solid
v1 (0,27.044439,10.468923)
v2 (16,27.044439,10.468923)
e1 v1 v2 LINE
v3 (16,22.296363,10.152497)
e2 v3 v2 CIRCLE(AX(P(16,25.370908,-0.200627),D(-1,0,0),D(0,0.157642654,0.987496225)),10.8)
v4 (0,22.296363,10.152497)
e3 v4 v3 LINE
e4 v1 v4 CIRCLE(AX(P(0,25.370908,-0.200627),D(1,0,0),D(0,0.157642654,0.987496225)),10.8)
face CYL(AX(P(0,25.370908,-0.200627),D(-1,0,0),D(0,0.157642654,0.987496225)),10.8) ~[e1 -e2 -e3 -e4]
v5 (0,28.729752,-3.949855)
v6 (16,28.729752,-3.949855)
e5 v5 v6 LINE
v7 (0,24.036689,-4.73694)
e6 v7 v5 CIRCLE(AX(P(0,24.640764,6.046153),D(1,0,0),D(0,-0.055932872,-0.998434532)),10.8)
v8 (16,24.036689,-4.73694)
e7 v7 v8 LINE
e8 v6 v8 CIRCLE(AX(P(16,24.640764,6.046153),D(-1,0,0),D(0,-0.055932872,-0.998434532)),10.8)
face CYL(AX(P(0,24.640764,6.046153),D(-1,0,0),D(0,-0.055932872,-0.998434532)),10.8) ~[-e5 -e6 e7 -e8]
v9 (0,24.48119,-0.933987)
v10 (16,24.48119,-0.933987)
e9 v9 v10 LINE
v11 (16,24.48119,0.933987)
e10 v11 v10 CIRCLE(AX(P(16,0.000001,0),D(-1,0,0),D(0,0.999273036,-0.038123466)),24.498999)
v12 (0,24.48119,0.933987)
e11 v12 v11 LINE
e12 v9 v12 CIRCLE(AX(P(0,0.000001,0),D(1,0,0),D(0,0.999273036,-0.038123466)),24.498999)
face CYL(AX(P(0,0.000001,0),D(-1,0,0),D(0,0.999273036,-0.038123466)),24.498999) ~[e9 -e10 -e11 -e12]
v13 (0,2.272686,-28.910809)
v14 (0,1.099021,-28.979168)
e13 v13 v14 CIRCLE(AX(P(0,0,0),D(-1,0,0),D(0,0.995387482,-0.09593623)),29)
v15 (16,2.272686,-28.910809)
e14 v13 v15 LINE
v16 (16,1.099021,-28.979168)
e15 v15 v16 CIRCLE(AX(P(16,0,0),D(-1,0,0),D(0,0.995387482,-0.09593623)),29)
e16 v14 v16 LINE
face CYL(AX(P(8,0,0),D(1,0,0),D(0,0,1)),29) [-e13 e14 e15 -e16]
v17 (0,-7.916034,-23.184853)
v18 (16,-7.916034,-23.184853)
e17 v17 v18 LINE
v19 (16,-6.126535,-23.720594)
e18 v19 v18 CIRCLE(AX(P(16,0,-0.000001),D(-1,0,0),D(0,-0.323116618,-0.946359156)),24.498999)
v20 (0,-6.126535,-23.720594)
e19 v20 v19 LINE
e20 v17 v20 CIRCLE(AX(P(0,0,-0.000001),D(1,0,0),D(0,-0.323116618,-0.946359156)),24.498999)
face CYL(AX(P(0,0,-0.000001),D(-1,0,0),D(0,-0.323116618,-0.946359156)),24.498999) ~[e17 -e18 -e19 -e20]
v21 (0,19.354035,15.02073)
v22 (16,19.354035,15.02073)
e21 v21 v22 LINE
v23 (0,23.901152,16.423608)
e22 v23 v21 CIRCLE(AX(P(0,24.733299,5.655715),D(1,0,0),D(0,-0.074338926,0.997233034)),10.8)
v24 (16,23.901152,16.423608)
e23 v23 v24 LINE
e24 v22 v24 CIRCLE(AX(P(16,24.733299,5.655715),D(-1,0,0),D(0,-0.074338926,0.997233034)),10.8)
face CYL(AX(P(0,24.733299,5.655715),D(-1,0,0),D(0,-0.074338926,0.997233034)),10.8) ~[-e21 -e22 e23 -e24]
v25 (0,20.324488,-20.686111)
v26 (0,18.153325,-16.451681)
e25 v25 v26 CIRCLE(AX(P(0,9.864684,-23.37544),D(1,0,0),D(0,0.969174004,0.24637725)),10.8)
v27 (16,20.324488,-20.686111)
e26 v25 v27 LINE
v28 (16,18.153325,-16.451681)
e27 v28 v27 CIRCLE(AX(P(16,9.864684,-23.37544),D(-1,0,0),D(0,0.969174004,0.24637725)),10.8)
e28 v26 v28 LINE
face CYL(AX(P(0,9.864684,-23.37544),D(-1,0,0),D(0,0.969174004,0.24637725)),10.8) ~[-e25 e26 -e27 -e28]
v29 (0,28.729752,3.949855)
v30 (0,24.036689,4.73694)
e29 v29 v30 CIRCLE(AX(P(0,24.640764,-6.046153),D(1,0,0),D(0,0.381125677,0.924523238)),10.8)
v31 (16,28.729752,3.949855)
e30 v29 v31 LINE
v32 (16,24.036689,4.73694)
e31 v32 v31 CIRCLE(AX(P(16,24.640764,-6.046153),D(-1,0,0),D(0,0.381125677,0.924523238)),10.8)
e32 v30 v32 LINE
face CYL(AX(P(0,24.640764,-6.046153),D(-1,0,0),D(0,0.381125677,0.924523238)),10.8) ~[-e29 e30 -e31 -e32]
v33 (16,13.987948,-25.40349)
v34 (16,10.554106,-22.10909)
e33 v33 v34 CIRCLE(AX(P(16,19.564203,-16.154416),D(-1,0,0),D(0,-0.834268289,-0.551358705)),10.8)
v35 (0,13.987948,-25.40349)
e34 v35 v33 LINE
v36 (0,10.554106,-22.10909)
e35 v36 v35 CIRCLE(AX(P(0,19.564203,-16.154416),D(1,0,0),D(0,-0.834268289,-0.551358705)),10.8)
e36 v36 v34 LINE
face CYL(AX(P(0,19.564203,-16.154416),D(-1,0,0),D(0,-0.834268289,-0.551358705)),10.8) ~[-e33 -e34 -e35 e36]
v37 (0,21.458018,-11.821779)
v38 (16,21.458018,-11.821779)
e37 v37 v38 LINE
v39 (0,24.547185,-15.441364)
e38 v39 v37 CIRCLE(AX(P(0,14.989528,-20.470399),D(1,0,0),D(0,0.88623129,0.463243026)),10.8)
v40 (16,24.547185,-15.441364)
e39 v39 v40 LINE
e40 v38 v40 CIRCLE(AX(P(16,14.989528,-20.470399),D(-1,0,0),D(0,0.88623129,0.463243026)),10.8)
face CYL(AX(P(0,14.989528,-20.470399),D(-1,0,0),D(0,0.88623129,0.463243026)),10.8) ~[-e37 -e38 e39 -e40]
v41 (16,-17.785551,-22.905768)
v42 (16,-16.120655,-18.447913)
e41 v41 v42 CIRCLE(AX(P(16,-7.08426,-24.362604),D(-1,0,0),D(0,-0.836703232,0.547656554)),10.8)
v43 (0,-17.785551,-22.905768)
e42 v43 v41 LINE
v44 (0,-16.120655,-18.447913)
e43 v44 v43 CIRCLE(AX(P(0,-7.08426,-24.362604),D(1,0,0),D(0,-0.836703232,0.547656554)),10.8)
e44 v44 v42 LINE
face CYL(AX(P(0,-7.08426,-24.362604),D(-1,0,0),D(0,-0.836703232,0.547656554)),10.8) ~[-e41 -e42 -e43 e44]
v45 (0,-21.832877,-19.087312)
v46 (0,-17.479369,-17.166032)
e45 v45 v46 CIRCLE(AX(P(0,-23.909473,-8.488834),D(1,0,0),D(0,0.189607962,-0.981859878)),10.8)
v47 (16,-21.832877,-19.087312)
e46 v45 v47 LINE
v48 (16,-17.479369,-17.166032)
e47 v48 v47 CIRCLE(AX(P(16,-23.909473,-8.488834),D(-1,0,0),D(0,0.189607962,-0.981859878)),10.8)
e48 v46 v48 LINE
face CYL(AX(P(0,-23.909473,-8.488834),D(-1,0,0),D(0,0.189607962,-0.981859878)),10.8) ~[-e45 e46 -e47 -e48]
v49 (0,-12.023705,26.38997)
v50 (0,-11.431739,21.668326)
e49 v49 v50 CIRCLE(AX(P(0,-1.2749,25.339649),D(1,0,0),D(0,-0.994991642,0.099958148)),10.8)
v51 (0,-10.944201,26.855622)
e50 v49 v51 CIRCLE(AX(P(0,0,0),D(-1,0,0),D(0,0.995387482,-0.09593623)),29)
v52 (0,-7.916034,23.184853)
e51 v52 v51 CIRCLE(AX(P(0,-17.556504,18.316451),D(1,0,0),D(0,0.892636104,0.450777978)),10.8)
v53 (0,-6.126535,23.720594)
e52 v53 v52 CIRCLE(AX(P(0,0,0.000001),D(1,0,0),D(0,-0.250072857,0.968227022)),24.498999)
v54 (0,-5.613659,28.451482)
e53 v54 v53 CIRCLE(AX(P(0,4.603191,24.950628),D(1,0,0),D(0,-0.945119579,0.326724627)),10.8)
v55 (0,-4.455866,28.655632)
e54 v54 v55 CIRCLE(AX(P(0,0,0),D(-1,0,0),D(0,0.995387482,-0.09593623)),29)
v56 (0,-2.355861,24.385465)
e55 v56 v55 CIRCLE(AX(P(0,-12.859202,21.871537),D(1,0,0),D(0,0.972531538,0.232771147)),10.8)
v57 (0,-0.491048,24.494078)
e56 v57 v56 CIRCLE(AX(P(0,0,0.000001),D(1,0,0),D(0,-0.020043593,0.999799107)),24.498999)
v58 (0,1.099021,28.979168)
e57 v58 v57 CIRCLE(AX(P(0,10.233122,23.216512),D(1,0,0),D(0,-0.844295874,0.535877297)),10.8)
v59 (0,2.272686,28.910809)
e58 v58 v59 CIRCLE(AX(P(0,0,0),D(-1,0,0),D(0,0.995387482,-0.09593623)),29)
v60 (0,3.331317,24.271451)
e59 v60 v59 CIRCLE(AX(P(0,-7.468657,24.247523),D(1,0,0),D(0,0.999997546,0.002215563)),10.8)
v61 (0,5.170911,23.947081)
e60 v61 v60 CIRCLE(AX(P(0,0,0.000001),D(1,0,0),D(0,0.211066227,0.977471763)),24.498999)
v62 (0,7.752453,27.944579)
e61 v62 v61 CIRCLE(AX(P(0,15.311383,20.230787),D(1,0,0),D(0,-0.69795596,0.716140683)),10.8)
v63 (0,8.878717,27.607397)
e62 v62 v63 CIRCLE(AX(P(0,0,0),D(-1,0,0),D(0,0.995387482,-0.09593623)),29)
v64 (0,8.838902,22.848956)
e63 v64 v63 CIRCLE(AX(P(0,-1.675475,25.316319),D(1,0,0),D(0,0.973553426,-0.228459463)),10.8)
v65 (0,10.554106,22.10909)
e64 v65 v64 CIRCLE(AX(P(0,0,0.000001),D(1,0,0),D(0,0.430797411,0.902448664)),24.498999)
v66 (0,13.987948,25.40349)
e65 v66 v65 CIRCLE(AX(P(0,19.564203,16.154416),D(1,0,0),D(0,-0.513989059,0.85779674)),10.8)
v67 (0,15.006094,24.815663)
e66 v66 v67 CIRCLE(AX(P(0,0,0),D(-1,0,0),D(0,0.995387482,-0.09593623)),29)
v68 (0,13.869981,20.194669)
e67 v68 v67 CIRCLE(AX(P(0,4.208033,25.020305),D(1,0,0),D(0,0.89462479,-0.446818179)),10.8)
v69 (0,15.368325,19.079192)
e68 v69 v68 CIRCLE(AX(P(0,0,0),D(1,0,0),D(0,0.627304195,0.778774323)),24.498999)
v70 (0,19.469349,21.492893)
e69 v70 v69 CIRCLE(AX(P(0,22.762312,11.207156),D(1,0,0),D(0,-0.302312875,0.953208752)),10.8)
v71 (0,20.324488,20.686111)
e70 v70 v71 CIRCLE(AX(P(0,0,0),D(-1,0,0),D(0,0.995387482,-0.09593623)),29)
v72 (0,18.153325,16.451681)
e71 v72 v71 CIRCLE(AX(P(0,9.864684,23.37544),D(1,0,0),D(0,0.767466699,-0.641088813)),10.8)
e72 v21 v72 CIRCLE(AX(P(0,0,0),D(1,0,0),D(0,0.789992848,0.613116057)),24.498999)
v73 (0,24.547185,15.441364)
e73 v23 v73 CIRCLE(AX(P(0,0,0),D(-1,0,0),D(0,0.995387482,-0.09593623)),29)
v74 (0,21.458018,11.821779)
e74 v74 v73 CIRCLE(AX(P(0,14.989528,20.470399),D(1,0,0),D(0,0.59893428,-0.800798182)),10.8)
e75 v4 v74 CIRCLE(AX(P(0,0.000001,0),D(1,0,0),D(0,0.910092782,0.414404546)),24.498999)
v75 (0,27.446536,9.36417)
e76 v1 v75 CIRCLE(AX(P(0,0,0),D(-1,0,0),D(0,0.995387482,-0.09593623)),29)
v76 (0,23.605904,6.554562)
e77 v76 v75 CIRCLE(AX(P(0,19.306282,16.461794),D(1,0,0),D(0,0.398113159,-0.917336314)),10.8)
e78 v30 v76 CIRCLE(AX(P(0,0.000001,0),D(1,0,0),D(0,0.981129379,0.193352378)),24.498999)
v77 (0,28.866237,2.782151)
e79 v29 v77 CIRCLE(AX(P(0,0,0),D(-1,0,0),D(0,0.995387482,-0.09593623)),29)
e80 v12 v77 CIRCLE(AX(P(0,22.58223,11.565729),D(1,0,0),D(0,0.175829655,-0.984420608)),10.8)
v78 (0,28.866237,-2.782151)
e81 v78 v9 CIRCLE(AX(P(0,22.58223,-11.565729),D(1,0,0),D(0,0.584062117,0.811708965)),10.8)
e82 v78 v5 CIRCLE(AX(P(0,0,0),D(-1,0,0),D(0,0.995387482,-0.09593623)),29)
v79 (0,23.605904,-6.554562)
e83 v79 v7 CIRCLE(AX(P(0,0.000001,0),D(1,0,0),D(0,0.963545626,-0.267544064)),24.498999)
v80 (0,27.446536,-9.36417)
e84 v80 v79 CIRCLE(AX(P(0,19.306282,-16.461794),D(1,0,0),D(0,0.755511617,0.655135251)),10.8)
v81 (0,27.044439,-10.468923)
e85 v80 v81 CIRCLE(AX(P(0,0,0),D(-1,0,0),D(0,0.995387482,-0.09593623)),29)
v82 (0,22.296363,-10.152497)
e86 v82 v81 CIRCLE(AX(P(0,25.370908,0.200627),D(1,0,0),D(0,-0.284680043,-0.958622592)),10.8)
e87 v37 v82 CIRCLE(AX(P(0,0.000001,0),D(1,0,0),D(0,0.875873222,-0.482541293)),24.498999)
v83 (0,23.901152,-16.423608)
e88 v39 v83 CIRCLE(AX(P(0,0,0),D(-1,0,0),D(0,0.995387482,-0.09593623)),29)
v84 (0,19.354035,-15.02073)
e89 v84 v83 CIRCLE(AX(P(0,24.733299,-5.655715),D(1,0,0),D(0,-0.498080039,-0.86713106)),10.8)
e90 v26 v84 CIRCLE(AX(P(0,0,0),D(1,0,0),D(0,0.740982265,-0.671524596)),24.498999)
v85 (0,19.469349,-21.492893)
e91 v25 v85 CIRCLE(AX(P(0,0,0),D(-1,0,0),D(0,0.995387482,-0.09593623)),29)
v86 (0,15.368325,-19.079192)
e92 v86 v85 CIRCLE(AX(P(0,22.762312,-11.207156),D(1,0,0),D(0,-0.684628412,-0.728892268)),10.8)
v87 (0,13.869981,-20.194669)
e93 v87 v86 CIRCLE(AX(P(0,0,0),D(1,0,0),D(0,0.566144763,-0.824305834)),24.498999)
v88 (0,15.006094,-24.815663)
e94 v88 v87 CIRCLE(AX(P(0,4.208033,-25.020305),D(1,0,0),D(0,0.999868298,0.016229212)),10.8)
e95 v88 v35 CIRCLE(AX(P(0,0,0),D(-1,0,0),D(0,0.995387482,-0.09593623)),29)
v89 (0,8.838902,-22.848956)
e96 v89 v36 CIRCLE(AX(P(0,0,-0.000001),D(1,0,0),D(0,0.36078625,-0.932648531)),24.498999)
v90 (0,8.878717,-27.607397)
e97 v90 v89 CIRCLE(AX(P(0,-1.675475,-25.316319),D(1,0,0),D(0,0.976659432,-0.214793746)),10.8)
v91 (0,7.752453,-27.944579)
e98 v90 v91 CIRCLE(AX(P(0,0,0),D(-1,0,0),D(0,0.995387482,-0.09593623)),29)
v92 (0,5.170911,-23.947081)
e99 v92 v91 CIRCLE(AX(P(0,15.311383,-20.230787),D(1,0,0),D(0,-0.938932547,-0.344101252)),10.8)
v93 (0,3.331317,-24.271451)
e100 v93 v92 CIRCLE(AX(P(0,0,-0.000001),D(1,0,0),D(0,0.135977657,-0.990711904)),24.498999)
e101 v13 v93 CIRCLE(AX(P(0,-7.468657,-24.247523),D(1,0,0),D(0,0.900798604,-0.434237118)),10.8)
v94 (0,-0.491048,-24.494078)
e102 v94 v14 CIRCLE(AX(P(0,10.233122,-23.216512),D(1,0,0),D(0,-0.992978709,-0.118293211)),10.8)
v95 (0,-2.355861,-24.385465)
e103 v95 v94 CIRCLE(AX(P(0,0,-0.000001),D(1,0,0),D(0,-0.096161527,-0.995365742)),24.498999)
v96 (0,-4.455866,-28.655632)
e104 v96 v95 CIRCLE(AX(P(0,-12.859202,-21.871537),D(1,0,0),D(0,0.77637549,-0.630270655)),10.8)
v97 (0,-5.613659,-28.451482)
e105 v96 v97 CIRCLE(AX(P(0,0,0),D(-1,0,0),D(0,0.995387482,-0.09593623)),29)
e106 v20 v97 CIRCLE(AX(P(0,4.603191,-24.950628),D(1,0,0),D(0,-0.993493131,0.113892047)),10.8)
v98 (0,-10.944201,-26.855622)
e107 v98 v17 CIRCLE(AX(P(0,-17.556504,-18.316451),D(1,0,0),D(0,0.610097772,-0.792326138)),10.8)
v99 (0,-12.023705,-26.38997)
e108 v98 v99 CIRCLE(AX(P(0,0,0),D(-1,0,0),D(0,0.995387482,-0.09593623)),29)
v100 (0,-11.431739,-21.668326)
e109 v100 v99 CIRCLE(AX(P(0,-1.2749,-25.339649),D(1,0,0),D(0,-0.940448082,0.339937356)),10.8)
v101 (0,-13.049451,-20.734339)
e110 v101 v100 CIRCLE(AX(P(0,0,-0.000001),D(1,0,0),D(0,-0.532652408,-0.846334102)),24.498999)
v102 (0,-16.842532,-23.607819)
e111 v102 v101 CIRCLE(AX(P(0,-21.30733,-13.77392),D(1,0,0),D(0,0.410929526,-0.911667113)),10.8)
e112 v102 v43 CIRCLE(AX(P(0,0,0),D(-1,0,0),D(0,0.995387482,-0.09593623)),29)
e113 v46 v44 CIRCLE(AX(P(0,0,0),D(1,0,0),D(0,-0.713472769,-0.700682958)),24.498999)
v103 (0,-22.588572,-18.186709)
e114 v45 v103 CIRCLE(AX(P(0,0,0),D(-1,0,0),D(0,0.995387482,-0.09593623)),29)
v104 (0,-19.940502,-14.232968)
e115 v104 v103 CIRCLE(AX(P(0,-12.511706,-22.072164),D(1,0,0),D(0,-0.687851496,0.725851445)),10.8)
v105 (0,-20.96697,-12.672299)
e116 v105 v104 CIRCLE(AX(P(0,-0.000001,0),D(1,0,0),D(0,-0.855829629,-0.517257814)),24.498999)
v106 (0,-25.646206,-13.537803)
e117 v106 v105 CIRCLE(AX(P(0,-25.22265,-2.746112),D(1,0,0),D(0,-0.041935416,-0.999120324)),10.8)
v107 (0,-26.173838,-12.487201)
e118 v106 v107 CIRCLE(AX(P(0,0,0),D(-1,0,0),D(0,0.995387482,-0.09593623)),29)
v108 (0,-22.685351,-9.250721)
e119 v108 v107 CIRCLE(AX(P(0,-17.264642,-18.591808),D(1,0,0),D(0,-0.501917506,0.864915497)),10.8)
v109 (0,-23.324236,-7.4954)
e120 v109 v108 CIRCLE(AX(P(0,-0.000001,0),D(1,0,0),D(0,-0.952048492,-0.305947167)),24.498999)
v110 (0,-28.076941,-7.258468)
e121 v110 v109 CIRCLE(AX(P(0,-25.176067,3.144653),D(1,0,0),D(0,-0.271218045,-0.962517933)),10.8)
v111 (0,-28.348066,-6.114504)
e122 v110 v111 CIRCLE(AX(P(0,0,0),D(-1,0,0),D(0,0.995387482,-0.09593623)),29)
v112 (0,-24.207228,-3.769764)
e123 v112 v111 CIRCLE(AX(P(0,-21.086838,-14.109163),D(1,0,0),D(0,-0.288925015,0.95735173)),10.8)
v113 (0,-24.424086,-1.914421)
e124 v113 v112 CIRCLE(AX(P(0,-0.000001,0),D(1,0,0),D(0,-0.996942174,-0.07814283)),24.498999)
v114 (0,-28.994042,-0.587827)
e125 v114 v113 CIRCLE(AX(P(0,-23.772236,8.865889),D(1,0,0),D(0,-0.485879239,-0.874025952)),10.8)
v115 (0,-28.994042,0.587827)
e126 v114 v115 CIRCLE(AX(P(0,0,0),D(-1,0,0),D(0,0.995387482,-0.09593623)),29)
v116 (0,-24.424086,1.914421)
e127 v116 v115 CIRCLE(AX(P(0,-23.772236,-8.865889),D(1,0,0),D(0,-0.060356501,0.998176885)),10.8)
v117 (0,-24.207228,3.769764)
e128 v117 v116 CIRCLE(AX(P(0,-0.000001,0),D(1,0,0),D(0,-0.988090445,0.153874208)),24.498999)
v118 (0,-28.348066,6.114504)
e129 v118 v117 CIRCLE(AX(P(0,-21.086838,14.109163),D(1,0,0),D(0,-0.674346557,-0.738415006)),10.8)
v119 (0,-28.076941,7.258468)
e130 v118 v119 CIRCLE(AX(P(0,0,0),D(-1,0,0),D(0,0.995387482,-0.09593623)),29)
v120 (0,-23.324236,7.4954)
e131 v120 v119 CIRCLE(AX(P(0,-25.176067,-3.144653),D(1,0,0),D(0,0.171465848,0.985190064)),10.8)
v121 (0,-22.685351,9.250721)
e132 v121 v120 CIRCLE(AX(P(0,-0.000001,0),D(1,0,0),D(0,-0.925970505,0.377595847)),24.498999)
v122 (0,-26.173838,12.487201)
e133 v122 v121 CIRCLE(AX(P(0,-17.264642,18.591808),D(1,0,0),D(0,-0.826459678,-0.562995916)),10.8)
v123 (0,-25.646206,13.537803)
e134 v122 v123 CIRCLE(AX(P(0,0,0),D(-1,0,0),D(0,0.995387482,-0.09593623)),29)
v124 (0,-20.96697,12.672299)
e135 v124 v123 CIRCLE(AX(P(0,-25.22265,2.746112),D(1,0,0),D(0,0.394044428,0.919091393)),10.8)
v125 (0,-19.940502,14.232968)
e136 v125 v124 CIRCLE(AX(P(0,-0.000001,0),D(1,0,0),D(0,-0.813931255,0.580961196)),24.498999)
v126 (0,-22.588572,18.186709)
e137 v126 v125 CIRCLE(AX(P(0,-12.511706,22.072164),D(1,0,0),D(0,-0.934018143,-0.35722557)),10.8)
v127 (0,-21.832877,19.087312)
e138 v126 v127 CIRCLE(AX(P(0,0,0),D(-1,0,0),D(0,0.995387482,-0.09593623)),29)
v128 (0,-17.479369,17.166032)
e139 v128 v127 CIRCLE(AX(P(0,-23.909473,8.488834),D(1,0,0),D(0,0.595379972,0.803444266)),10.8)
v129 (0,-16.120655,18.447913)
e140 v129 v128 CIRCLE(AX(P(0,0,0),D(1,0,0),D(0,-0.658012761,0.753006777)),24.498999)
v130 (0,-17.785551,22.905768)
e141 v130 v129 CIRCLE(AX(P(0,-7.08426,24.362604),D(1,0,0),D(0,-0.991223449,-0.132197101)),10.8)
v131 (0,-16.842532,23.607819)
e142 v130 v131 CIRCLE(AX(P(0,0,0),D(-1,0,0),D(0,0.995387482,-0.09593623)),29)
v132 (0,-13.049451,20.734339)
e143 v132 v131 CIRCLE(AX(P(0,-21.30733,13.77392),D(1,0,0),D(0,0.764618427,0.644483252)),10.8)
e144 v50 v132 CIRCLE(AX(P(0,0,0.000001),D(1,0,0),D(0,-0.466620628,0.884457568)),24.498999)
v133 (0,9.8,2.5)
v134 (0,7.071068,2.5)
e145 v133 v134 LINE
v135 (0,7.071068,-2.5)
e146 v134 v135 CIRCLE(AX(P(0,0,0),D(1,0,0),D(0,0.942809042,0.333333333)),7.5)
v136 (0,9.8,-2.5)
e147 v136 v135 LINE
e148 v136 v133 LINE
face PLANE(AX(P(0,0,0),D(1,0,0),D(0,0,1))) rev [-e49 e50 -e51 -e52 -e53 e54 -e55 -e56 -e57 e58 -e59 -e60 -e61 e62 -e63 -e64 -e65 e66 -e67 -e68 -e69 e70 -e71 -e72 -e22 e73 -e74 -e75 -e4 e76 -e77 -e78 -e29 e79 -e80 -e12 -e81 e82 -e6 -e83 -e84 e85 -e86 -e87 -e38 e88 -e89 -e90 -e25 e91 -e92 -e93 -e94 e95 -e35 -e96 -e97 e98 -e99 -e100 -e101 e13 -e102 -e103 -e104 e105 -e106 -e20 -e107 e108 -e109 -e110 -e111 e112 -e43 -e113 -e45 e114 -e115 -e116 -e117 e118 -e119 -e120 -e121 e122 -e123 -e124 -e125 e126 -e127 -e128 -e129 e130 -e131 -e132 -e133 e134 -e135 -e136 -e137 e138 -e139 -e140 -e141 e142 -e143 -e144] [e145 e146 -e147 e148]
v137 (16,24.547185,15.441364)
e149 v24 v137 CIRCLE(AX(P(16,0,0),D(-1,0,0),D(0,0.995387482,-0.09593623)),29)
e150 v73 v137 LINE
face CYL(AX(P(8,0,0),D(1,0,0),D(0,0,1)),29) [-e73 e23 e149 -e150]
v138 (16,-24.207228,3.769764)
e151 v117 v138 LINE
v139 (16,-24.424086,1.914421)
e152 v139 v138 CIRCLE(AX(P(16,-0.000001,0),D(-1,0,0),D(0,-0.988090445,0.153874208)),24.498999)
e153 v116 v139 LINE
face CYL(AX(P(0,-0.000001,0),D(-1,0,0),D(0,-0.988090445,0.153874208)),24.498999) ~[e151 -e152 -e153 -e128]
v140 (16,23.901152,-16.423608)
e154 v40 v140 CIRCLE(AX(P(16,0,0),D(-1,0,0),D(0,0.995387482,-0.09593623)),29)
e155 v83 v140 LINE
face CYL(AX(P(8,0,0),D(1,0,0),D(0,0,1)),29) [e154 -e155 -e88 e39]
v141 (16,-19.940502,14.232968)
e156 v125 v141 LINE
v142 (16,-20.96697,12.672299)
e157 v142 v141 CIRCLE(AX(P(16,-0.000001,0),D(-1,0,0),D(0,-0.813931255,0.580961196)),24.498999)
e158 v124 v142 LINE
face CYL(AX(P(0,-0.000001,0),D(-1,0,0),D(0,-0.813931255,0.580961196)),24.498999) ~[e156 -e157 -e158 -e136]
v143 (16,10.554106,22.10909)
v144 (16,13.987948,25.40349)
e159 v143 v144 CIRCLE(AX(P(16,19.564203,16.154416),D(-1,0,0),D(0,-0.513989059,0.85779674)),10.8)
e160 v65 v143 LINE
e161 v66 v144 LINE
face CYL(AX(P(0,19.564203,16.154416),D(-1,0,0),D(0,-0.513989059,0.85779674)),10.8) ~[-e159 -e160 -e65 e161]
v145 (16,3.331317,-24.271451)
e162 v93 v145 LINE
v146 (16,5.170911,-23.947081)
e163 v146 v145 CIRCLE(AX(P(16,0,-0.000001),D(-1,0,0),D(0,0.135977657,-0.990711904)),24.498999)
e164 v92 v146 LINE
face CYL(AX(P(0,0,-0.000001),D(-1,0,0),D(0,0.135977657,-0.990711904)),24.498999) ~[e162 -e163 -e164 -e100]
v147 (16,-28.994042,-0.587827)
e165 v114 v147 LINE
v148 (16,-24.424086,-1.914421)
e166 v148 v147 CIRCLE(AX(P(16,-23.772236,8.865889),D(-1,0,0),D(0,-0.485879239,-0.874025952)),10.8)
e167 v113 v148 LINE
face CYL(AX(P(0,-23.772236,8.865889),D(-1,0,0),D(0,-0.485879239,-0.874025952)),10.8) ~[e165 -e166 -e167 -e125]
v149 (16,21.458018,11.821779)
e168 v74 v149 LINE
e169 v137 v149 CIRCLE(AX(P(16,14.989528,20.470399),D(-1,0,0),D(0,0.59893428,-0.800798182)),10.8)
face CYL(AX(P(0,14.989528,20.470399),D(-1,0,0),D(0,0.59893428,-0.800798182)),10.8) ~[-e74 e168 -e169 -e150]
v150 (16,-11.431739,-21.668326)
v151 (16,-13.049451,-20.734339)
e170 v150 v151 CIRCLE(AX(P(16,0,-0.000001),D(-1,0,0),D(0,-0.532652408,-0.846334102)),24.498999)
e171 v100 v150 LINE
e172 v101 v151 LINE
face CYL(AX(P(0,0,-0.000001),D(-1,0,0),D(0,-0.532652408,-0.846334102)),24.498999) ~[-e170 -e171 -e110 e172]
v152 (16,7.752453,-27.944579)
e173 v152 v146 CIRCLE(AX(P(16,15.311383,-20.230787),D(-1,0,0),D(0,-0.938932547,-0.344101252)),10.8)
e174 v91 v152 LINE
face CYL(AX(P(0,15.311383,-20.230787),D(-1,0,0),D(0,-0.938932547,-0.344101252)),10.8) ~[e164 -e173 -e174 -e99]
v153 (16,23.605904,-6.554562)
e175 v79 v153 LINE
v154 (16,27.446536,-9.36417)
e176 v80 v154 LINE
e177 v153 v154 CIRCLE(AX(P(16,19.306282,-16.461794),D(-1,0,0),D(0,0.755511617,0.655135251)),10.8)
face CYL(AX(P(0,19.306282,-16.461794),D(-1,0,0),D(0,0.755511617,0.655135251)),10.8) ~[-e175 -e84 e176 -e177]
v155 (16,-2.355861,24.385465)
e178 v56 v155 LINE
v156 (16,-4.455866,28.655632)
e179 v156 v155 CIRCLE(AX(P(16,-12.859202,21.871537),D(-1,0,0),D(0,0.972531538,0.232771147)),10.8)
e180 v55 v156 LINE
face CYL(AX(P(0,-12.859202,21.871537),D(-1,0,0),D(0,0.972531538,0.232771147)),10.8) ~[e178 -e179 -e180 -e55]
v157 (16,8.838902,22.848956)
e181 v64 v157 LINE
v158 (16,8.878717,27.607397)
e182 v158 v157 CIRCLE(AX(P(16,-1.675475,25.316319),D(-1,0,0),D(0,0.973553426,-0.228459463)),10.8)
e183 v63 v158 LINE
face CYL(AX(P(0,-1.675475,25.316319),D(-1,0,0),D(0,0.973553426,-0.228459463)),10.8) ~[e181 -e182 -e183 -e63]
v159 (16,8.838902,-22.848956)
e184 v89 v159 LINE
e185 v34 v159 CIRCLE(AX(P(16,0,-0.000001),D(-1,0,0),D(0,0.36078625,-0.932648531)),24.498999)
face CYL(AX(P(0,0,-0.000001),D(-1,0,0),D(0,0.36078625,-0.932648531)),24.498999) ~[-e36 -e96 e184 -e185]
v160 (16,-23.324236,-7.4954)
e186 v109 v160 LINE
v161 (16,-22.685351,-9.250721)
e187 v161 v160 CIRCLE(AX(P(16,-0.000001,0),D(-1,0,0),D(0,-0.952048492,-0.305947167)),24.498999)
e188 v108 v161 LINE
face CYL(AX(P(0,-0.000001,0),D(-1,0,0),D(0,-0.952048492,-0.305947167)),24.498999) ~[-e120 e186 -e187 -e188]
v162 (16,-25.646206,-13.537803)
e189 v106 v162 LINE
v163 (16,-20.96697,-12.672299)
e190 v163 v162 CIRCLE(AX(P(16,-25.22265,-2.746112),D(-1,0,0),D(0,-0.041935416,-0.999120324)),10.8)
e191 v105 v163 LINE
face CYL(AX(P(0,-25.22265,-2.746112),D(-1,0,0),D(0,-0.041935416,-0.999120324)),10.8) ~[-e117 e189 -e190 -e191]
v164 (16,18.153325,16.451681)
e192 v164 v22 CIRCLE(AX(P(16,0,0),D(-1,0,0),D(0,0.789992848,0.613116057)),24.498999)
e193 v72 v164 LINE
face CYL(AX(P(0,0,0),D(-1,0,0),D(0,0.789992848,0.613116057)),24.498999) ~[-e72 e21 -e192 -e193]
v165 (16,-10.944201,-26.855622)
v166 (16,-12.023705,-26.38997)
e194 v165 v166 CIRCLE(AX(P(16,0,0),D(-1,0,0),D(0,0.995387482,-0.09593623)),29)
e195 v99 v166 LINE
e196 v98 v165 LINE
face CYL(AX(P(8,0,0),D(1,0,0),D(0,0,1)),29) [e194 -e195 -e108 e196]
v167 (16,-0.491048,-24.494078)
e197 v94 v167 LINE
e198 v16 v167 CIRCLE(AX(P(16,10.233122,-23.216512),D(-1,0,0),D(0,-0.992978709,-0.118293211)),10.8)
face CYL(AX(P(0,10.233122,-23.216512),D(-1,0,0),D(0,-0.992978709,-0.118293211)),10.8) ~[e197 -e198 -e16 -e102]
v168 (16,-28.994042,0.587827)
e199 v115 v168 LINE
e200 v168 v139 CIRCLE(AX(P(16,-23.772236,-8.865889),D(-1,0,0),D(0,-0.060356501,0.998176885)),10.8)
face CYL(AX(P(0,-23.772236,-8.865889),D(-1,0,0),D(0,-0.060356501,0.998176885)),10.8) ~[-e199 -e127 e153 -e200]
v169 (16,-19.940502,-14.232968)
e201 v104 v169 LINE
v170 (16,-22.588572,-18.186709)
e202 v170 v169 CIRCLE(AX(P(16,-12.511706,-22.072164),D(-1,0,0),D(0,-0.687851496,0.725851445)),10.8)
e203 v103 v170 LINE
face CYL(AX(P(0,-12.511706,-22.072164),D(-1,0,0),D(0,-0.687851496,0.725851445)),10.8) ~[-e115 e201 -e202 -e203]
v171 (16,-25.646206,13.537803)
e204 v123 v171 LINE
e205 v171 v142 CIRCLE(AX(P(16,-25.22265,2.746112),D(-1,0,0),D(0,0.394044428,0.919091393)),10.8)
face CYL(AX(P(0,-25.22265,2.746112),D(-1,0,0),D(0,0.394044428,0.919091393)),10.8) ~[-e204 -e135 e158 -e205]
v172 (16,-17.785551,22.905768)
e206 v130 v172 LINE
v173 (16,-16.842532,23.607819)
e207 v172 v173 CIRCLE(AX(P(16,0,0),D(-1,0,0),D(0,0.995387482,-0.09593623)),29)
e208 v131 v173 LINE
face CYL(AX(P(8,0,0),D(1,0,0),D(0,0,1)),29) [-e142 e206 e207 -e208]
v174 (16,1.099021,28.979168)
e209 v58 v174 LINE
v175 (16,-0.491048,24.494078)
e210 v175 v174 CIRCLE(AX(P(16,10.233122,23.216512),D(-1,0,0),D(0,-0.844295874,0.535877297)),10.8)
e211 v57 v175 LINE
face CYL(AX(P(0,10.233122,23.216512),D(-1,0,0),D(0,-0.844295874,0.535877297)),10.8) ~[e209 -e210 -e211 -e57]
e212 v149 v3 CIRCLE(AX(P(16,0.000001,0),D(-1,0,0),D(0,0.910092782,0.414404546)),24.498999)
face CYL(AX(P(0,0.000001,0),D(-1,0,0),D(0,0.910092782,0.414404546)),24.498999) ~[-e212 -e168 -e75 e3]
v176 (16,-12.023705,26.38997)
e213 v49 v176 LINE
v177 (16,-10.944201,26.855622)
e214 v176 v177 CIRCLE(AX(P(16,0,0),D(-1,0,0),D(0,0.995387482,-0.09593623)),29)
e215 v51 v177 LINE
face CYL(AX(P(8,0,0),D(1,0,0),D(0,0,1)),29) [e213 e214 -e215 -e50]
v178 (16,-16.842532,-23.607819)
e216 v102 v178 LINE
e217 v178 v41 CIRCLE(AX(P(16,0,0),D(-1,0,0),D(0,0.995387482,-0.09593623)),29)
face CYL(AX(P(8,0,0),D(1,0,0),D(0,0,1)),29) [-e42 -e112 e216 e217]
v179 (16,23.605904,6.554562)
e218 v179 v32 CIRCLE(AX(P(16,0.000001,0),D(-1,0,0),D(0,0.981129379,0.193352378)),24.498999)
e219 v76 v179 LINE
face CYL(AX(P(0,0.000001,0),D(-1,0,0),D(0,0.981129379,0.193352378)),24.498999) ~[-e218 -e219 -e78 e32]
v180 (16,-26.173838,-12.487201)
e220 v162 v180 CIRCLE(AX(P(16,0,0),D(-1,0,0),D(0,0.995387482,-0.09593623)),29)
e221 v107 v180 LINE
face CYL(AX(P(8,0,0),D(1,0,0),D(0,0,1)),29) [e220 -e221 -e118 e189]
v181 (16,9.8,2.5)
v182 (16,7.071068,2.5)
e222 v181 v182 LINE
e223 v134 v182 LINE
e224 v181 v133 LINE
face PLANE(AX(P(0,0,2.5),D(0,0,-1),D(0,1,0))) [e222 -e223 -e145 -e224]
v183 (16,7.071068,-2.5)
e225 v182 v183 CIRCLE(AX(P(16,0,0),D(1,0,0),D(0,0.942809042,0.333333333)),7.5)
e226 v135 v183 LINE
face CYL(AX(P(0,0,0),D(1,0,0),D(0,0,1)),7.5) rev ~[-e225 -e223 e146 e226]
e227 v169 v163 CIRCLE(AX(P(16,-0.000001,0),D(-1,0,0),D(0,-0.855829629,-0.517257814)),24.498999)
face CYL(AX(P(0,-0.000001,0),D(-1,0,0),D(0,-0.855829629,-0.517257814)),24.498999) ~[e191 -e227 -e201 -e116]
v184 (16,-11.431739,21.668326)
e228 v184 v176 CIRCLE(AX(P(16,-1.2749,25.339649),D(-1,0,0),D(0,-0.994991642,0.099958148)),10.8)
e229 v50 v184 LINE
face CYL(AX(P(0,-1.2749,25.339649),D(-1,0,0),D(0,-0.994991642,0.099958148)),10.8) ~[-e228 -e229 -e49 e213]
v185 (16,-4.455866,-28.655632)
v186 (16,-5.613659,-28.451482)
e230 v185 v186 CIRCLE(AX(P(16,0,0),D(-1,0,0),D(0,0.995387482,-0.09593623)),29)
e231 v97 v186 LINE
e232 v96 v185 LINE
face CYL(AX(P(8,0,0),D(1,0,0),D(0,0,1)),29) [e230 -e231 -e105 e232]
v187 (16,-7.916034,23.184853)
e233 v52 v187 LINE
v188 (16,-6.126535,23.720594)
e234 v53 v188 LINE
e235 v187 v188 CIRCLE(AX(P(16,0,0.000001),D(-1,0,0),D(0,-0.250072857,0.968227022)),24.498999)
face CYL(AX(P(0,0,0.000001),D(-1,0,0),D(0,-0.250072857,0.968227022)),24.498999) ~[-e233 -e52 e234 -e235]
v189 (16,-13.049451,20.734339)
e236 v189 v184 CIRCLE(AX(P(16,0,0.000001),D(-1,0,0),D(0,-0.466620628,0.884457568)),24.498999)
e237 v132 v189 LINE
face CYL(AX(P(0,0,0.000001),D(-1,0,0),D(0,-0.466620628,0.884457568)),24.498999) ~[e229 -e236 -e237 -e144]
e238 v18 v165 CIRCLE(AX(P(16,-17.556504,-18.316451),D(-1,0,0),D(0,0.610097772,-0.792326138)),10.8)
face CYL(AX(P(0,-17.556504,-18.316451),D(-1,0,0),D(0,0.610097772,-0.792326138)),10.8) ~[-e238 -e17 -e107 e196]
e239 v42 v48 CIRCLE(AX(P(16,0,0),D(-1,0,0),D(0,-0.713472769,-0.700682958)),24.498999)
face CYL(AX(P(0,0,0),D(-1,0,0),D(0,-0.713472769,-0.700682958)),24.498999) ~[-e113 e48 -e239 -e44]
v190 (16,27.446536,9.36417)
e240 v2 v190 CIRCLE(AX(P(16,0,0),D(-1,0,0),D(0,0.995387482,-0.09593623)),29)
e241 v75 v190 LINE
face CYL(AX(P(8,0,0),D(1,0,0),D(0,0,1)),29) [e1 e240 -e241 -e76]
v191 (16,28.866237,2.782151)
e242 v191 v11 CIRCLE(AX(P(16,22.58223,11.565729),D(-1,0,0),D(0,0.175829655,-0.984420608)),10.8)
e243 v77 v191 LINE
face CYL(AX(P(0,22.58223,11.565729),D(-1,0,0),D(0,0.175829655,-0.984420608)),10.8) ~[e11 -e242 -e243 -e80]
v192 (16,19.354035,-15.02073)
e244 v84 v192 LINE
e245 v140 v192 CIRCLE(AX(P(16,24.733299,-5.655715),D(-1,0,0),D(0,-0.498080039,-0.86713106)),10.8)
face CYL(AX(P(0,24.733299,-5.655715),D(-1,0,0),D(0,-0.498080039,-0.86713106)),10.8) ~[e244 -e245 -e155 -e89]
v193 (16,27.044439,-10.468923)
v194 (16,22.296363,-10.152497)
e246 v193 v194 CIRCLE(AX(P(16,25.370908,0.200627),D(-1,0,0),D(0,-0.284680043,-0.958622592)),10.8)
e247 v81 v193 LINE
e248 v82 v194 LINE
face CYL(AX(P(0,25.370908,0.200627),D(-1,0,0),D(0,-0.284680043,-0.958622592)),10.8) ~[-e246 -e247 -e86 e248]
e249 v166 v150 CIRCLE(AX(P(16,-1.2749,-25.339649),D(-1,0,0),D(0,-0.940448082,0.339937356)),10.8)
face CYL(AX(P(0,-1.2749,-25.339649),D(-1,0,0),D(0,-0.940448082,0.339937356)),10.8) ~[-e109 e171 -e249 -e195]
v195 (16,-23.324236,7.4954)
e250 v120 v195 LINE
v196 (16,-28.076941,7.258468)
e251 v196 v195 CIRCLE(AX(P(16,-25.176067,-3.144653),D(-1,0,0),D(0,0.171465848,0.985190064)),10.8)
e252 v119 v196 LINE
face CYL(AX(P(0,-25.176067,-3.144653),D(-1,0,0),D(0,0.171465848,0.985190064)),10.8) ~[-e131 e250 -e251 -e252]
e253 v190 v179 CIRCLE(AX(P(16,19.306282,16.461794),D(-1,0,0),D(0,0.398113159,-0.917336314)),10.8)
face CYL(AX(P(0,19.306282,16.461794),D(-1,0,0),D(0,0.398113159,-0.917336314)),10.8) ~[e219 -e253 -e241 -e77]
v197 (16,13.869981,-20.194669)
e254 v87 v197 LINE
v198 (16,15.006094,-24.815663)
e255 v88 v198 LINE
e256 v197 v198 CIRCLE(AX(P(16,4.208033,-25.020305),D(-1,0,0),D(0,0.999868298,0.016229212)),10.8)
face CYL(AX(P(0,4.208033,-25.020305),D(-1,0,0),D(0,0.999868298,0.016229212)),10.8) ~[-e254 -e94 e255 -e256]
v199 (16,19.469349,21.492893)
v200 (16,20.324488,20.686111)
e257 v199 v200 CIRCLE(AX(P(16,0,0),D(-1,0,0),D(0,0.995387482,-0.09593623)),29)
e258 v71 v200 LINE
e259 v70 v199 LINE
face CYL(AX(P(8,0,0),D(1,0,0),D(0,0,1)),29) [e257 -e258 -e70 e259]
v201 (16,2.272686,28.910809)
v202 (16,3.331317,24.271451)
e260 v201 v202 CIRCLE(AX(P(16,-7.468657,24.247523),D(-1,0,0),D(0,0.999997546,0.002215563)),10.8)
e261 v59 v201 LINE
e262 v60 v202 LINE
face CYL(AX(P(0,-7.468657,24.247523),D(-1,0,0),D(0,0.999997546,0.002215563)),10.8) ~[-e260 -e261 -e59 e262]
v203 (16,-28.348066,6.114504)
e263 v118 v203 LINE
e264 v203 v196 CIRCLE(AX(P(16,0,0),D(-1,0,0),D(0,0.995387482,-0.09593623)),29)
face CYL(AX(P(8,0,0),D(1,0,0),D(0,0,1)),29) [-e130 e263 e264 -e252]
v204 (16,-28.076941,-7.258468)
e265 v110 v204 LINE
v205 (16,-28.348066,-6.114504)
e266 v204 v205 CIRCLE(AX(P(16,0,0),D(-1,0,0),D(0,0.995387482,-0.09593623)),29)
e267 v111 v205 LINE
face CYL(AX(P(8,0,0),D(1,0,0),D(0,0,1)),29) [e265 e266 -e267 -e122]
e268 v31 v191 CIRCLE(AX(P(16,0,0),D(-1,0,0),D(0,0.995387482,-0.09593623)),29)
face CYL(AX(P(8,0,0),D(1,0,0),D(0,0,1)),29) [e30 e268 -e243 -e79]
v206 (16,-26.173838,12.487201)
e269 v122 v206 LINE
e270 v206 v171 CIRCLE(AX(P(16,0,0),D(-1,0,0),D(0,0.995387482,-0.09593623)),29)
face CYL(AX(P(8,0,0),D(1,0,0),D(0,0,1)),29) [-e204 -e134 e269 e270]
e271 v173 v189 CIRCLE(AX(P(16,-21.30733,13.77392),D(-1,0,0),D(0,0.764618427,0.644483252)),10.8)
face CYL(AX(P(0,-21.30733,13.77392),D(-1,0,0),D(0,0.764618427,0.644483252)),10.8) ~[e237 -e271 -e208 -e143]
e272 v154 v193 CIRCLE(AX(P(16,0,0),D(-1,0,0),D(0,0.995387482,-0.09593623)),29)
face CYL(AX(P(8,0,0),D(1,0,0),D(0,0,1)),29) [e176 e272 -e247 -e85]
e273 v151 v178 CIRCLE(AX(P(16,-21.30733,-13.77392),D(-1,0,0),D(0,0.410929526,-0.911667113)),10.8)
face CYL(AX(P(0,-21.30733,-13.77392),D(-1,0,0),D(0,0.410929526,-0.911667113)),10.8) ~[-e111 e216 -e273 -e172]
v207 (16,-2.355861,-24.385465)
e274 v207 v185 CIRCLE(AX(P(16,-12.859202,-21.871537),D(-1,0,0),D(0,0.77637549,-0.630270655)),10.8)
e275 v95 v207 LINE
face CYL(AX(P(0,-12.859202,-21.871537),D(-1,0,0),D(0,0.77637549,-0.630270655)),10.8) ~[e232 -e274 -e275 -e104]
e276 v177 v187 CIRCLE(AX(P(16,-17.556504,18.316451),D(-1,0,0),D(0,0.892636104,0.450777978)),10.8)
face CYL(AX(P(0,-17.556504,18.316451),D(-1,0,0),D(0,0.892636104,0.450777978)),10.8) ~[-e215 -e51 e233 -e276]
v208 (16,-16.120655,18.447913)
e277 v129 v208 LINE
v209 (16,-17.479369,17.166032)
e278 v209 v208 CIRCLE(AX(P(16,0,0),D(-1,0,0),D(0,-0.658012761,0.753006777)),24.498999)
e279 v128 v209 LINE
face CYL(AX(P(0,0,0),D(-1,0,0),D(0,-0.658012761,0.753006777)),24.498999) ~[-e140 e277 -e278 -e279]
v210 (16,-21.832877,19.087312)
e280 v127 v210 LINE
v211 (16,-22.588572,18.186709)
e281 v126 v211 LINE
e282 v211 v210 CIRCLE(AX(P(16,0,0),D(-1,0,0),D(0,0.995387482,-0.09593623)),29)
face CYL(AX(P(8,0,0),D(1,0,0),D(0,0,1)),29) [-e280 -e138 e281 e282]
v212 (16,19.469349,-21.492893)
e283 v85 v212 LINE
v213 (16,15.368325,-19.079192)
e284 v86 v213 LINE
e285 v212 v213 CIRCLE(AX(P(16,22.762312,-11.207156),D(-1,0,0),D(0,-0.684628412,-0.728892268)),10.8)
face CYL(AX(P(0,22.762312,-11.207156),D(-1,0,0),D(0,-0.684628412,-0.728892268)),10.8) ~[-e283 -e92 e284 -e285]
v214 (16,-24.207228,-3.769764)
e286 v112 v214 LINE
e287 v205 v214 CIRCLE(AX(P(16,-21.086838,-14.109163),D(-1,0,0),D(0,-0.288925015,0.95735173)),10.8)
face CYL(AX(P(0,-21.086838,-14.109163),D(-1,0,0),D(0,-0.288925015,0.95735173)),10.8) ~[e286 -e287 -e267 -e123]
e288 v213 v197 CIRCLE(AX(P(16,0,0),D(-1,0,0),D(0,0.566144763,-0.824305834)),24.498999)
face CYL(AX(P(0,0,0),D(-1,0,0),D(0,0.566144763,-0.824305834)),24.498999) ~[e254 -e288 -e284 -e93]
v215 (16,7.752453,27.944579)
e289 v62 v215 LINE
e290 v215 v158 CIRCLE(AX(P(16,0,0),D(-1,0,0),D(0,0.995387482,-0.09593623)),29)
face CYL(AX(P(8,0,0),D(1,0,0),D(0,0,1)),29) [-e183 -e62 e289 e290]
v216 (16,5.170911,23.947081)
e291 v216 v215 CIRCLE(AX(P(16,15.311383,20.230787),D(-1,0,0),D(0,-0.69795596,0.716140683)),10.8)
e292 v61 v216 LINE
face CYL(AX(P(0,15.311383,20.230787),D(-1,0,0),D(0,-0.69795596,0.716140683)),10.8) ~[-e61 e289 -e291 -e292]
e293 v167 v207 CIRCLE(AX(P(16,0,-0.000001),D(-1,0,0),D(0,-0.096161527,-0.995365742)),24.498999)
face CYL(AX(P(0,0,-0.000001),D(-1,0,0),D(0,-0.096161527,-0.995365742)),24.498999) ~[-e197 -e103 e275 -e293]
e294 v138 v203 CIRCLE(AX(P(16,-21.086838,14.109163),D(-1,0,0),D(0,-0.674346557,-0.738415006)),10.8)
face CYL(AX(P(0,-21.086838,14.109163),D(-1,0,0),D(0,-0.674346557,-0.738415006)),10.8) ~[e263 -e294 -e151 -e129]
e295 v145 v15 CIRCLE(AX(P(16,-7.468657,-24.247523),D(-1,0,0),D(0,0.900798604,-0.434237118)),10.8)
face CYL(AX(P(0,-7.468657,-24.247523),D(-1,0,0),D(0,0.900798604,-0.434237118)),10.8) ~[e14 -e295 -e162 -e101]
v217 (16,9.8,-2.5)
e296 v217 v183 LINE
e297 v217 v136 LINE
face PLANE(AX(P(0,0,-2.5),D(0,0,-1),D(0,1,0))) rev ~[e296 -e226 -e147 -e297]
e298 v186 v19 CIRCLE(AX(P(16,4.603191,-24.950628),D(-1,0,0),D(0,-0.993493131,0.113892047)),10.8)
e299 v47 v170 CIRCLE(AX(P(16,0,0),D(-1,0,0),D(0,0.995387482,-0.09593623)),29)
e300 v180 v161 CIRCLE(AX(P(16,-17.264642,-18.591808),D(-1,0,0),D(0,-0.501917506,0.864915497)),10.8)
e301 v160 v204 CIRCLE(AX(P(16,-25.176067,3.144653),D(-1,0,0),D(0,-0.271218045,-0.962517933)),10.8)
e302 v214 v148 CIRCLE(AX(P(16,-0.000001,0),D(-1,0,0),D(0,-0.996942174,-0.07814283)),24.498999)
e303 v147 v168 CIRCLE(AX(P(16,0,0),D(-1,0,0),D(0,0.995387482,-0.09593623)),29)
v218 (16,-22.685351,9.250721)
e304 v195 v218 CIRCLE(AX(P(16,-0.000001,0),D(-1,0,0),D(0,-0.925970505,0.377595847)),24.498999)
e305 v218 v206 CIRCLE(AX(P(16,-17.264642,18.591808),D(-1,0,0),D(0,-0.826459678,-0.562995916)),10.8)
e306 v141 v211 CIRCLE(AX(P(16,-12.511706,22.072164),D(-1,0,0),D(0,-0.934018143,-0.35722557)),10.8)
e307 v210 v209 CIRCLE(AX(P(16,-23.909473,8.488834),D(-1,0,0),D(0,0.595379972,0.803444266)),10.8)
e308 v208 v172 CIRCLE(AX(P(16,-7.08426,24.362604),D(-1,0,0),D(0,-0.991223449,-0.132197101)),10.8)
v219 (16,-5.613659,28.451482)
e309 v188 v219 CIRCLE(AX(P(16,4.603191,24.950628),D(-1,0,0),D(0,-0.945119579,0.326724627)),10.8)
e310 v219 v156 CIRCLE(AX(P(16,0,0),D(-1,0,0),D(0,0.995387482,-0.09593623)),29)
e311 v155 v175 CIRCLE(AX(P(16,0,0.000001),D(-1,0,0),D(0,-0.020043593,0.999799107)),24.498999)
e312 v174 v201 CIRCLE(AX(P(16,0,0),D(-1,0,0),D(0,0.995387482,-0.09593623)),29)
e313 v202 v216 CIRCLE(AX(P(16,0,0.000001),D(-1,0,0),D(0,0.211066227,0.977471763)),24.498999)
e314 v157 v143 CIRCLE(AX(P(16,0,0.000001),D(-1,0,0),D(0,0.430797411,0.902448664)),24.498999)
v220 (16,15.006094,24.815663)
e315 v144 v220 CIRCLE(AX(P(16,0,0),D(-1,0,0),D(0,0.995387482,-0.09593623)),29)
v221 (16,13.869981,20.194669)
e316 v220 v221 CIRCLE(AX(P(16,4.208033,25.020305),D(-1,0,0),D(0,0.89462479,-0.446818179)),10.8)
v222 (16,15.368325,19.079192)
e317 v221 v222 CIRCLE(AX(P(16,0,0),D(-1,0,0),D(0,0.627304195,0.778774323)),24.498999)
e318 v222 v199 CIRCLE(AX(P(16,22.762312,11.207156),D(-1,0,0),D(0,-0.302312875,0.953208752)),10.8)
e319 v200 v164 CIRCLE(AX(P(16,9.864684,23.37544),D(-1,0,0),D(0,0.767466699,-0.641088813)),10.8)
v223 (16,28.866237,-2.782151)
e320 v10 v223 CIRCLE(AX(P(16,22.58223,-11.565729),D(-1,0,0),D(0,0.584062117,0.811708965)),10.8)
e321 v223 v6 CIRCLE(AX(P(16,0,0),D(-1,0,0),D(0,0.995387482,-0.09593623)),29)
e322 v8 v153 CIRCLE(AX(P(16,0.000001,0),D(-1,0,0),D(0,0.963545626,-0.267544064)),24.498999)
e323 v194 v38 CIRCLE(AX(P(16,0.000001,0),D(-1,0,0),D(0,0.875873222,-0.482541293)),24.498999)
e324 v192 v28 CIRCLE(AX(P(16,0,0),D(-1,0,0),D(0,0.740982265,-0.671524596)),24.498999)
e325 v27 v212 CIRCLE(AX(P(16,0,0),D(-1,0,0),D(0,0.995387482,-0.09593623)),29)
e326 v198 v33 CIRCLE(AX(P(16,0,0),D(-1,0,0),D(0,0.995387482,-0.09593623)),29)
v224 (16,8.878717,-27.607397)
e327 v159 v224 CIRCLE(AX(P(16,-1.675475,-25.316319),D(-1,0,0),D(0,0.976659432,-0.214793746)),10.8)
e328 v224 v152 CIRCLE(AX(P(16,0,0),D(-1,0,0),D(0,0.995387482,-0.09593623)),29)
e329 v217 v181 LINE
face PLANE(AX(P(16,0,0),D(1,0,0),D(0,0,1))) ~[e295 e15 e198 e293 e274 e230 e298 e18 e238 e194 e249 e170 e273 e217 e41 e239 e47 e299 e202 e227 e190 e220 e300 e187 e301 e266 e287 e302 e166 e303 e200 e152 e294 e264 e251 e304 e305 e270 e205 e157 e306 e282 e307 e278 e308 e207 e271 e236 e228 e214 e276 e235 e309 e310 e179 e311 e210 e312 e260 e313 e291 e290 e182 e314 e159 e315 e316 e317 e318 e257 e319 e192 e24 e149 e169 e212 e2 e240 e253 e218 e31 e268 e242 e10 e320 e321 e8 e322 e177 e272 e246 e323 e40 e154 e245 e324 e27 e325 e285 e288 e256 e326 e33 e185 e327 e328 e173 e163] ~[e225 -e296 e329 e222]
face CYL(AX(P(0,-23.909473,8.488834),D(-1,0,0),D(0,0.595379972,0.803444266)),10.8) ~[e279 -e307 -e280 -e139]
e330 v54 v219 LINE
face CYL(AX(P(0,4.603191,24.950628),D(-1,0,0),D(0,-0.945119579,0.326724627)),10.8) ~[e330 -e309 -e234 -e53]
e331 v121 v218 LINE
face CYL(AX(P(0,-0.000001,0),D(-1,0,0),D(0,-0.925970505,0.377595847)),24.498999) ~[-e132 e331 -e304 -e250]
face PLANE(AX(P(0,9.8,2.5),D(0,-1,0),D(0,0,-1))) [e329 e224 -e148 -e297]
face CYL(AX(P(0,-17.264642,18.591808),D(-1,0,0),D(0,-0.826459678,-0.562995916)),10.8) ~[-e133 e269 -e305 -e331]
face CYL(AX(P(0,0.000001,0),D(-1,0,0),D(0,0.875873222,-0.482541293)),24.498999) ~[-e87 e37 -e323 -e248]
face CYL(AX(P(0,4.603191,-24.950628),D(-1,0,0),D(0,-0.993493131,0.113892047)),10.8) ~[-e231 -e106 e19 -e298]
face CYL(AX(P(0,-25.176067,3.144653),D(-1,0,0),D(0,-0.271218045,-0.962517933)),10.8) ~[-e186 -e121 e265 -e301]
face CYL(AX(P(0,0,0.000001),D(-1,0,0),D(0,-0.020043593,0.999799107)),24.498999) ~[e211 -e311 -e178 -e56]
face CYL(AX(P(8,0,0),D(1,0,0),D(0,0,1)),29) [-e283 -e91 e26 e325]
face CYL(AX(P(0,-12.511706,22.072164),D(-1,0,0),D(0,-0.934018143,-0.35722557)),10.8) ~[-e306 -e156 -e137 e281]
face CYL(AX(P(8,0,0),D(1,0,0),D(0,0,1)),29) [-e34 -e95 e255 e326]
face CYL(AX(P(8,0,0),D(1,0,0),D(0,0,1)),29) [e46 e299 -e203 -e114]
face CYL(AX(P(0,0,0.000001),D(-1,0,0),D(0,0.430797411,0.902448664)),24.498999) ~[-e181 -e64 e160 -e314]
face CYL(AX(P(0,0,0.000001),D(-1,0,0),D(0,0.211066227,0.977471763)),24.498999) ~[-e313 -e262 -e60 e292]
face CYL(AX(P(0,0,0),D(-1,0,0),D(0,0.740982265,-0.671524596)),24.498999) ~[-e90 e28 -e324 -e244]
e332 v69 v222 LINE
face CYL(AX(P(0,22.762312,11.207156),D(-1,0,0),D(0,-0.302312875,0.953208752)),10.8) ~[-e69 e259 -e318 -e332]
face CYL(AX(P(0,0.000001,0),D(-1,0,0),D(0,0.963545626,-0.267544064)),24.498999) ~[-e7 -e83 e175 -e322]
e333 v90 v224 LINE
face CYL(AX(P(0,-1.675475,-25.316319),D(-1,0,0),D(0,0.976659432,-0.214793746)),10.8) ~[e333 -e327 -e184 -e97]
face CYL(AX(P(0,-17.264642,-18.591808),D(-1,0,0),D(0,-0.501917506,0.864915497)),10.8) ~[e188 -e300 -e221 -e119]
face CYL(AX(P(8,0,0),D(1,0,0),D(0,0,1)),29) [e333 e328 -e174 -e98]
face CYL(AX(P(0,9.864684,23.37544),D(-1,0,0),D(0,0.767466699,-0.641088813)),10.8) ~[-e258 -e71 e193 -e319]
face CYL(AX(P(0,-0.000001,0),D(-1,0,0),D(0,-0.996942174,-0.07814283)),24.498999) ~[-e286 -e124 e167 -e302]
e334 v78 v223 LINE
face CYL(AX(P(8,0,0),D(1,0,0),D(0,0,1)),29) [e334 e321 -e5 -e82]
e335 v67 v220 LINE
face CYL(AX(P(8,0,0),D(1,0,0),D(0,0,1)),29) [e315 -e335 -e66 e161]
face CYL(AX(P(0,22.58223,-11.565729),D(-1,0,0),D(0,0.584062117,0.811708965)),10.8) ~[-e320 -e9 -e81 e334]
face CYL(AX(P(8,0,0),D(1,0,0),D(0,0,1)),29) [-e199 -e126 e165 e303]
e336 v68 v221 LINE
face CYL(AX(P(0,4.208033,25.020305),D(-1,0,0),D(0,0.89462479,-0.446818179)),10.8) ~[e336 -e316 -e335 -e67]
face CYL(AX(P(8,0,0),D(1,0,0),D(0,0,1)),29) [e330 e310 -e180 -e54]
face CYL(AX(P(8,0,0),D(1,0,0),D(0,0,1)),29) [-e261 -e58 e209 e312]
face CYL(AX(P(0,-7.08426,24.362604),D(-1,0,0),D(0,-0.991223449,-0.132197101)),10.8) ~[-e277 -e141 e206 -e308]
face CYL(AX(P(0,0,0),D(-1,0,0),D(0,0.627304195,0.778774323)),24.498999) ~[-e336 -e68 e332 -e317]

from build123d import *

# Parameters (mm, degrees)
BASPROSKE_W     = 16
BASPROSKE_H     = 29
TOOTHCUT_DEPTH  = 45.022721406
TEETHCUTS_COUNT = 27
TEETHCUTS_ANGLE = 346.666666667
BORSKE_R        = 7.5
BORE_DEPTH      = 50.0000508
KEYSKE_W        = 5
KEYSKE_H        = 9.8
KEYWAY_DEPTH    = 50.0000508


with BuildPart() as part:
    # BasProSke → Base-Revolve (revolve)
    with BuildSketch(Plane(origin=(0, 0, 0), x_dir=(1, 0, 0), z_dir=(0, 1, 0)), mode=Mode.PRIVATE) as base_revolve_sk:
        with Locations((8, 14.5)):
            Rectangle(BASPROSKE_W, BASPROSKE_H)
    revolve(base_revolve_sk.sketch.rotate(Axis((-10, 0, 0), (1, 0, 0)), 180), axis=Axis((-10, 0, 0), (1, 0, 0)))

    # TooCutSke → ToothCut (cut, through all)
    with BuildSketch(Plane(origin=(0, 0, 0), x_dir=(0, 0, -1), z_dir=(1, 0, 0))):
        with BuildLine():
            ThreePointArc((0.93398677, 24.48119012), (0, 24.499), (-0.93398677, 24.48119012))
            ThreePointArc((-0.93398677, 24.48119012), (-1.619264734, 26.790298527), (-2.799272507, 28.890100702))
            ThreePointArc((-2.799272507, 28.890100702), (0, 29.0254), (2.799272507, 28.890100702))
            ThreePointArc((2.799272507, 28.890100702), (1.619264734, 26.790298527), (0.93398677, 24.48119012))
        make_face()
    toothcut = extrude(amount=TOOTHCUT_DEPTH, mode=Mode.SUBTRACT)

    # TeethCuts: ToothCut ×27 about axis
    teethcuts_axis = Axis((-10, 0, 0), (1, 0, 0))
    for i in range(1, TEETHCUTS_COUNT):
        add(toothcut.rotate(teethcuts_axis, i * TEETHCUTS_ANGLE / (TEETHCUTS_COUNT - 1)), mode=Mode.SUBTRACT)

    # BorSke → Bore (cut, symmetric)
    with BuildSketch(Plane(origin=(0, 0, 0), x_dir=(0, 0, -1), z_dir=(1, 0, 0))):
        with Locations(Location((0, 0, 0), (0, 0, 180))):
            Circle(BORSKE_R)
    extrude(amount=BORE_DEPTH, both=True, mode=Mode.SUBTRACT)

    # KeySke → Keyway (cut, symmetric)
    with BuildSketch(Plane(origin=(0, 0, 0), x_dir=(0, 0, -1), z_dir=(1, 0, 0))):
        with Locations((0, 4.9)):
            Rectangle(KEYSKE_W, KEYSKE_H)
    extrude(amount=KEYWAY_DEPTH, both=True, mode=Mode.SUBTRACT)


solid = part.part
